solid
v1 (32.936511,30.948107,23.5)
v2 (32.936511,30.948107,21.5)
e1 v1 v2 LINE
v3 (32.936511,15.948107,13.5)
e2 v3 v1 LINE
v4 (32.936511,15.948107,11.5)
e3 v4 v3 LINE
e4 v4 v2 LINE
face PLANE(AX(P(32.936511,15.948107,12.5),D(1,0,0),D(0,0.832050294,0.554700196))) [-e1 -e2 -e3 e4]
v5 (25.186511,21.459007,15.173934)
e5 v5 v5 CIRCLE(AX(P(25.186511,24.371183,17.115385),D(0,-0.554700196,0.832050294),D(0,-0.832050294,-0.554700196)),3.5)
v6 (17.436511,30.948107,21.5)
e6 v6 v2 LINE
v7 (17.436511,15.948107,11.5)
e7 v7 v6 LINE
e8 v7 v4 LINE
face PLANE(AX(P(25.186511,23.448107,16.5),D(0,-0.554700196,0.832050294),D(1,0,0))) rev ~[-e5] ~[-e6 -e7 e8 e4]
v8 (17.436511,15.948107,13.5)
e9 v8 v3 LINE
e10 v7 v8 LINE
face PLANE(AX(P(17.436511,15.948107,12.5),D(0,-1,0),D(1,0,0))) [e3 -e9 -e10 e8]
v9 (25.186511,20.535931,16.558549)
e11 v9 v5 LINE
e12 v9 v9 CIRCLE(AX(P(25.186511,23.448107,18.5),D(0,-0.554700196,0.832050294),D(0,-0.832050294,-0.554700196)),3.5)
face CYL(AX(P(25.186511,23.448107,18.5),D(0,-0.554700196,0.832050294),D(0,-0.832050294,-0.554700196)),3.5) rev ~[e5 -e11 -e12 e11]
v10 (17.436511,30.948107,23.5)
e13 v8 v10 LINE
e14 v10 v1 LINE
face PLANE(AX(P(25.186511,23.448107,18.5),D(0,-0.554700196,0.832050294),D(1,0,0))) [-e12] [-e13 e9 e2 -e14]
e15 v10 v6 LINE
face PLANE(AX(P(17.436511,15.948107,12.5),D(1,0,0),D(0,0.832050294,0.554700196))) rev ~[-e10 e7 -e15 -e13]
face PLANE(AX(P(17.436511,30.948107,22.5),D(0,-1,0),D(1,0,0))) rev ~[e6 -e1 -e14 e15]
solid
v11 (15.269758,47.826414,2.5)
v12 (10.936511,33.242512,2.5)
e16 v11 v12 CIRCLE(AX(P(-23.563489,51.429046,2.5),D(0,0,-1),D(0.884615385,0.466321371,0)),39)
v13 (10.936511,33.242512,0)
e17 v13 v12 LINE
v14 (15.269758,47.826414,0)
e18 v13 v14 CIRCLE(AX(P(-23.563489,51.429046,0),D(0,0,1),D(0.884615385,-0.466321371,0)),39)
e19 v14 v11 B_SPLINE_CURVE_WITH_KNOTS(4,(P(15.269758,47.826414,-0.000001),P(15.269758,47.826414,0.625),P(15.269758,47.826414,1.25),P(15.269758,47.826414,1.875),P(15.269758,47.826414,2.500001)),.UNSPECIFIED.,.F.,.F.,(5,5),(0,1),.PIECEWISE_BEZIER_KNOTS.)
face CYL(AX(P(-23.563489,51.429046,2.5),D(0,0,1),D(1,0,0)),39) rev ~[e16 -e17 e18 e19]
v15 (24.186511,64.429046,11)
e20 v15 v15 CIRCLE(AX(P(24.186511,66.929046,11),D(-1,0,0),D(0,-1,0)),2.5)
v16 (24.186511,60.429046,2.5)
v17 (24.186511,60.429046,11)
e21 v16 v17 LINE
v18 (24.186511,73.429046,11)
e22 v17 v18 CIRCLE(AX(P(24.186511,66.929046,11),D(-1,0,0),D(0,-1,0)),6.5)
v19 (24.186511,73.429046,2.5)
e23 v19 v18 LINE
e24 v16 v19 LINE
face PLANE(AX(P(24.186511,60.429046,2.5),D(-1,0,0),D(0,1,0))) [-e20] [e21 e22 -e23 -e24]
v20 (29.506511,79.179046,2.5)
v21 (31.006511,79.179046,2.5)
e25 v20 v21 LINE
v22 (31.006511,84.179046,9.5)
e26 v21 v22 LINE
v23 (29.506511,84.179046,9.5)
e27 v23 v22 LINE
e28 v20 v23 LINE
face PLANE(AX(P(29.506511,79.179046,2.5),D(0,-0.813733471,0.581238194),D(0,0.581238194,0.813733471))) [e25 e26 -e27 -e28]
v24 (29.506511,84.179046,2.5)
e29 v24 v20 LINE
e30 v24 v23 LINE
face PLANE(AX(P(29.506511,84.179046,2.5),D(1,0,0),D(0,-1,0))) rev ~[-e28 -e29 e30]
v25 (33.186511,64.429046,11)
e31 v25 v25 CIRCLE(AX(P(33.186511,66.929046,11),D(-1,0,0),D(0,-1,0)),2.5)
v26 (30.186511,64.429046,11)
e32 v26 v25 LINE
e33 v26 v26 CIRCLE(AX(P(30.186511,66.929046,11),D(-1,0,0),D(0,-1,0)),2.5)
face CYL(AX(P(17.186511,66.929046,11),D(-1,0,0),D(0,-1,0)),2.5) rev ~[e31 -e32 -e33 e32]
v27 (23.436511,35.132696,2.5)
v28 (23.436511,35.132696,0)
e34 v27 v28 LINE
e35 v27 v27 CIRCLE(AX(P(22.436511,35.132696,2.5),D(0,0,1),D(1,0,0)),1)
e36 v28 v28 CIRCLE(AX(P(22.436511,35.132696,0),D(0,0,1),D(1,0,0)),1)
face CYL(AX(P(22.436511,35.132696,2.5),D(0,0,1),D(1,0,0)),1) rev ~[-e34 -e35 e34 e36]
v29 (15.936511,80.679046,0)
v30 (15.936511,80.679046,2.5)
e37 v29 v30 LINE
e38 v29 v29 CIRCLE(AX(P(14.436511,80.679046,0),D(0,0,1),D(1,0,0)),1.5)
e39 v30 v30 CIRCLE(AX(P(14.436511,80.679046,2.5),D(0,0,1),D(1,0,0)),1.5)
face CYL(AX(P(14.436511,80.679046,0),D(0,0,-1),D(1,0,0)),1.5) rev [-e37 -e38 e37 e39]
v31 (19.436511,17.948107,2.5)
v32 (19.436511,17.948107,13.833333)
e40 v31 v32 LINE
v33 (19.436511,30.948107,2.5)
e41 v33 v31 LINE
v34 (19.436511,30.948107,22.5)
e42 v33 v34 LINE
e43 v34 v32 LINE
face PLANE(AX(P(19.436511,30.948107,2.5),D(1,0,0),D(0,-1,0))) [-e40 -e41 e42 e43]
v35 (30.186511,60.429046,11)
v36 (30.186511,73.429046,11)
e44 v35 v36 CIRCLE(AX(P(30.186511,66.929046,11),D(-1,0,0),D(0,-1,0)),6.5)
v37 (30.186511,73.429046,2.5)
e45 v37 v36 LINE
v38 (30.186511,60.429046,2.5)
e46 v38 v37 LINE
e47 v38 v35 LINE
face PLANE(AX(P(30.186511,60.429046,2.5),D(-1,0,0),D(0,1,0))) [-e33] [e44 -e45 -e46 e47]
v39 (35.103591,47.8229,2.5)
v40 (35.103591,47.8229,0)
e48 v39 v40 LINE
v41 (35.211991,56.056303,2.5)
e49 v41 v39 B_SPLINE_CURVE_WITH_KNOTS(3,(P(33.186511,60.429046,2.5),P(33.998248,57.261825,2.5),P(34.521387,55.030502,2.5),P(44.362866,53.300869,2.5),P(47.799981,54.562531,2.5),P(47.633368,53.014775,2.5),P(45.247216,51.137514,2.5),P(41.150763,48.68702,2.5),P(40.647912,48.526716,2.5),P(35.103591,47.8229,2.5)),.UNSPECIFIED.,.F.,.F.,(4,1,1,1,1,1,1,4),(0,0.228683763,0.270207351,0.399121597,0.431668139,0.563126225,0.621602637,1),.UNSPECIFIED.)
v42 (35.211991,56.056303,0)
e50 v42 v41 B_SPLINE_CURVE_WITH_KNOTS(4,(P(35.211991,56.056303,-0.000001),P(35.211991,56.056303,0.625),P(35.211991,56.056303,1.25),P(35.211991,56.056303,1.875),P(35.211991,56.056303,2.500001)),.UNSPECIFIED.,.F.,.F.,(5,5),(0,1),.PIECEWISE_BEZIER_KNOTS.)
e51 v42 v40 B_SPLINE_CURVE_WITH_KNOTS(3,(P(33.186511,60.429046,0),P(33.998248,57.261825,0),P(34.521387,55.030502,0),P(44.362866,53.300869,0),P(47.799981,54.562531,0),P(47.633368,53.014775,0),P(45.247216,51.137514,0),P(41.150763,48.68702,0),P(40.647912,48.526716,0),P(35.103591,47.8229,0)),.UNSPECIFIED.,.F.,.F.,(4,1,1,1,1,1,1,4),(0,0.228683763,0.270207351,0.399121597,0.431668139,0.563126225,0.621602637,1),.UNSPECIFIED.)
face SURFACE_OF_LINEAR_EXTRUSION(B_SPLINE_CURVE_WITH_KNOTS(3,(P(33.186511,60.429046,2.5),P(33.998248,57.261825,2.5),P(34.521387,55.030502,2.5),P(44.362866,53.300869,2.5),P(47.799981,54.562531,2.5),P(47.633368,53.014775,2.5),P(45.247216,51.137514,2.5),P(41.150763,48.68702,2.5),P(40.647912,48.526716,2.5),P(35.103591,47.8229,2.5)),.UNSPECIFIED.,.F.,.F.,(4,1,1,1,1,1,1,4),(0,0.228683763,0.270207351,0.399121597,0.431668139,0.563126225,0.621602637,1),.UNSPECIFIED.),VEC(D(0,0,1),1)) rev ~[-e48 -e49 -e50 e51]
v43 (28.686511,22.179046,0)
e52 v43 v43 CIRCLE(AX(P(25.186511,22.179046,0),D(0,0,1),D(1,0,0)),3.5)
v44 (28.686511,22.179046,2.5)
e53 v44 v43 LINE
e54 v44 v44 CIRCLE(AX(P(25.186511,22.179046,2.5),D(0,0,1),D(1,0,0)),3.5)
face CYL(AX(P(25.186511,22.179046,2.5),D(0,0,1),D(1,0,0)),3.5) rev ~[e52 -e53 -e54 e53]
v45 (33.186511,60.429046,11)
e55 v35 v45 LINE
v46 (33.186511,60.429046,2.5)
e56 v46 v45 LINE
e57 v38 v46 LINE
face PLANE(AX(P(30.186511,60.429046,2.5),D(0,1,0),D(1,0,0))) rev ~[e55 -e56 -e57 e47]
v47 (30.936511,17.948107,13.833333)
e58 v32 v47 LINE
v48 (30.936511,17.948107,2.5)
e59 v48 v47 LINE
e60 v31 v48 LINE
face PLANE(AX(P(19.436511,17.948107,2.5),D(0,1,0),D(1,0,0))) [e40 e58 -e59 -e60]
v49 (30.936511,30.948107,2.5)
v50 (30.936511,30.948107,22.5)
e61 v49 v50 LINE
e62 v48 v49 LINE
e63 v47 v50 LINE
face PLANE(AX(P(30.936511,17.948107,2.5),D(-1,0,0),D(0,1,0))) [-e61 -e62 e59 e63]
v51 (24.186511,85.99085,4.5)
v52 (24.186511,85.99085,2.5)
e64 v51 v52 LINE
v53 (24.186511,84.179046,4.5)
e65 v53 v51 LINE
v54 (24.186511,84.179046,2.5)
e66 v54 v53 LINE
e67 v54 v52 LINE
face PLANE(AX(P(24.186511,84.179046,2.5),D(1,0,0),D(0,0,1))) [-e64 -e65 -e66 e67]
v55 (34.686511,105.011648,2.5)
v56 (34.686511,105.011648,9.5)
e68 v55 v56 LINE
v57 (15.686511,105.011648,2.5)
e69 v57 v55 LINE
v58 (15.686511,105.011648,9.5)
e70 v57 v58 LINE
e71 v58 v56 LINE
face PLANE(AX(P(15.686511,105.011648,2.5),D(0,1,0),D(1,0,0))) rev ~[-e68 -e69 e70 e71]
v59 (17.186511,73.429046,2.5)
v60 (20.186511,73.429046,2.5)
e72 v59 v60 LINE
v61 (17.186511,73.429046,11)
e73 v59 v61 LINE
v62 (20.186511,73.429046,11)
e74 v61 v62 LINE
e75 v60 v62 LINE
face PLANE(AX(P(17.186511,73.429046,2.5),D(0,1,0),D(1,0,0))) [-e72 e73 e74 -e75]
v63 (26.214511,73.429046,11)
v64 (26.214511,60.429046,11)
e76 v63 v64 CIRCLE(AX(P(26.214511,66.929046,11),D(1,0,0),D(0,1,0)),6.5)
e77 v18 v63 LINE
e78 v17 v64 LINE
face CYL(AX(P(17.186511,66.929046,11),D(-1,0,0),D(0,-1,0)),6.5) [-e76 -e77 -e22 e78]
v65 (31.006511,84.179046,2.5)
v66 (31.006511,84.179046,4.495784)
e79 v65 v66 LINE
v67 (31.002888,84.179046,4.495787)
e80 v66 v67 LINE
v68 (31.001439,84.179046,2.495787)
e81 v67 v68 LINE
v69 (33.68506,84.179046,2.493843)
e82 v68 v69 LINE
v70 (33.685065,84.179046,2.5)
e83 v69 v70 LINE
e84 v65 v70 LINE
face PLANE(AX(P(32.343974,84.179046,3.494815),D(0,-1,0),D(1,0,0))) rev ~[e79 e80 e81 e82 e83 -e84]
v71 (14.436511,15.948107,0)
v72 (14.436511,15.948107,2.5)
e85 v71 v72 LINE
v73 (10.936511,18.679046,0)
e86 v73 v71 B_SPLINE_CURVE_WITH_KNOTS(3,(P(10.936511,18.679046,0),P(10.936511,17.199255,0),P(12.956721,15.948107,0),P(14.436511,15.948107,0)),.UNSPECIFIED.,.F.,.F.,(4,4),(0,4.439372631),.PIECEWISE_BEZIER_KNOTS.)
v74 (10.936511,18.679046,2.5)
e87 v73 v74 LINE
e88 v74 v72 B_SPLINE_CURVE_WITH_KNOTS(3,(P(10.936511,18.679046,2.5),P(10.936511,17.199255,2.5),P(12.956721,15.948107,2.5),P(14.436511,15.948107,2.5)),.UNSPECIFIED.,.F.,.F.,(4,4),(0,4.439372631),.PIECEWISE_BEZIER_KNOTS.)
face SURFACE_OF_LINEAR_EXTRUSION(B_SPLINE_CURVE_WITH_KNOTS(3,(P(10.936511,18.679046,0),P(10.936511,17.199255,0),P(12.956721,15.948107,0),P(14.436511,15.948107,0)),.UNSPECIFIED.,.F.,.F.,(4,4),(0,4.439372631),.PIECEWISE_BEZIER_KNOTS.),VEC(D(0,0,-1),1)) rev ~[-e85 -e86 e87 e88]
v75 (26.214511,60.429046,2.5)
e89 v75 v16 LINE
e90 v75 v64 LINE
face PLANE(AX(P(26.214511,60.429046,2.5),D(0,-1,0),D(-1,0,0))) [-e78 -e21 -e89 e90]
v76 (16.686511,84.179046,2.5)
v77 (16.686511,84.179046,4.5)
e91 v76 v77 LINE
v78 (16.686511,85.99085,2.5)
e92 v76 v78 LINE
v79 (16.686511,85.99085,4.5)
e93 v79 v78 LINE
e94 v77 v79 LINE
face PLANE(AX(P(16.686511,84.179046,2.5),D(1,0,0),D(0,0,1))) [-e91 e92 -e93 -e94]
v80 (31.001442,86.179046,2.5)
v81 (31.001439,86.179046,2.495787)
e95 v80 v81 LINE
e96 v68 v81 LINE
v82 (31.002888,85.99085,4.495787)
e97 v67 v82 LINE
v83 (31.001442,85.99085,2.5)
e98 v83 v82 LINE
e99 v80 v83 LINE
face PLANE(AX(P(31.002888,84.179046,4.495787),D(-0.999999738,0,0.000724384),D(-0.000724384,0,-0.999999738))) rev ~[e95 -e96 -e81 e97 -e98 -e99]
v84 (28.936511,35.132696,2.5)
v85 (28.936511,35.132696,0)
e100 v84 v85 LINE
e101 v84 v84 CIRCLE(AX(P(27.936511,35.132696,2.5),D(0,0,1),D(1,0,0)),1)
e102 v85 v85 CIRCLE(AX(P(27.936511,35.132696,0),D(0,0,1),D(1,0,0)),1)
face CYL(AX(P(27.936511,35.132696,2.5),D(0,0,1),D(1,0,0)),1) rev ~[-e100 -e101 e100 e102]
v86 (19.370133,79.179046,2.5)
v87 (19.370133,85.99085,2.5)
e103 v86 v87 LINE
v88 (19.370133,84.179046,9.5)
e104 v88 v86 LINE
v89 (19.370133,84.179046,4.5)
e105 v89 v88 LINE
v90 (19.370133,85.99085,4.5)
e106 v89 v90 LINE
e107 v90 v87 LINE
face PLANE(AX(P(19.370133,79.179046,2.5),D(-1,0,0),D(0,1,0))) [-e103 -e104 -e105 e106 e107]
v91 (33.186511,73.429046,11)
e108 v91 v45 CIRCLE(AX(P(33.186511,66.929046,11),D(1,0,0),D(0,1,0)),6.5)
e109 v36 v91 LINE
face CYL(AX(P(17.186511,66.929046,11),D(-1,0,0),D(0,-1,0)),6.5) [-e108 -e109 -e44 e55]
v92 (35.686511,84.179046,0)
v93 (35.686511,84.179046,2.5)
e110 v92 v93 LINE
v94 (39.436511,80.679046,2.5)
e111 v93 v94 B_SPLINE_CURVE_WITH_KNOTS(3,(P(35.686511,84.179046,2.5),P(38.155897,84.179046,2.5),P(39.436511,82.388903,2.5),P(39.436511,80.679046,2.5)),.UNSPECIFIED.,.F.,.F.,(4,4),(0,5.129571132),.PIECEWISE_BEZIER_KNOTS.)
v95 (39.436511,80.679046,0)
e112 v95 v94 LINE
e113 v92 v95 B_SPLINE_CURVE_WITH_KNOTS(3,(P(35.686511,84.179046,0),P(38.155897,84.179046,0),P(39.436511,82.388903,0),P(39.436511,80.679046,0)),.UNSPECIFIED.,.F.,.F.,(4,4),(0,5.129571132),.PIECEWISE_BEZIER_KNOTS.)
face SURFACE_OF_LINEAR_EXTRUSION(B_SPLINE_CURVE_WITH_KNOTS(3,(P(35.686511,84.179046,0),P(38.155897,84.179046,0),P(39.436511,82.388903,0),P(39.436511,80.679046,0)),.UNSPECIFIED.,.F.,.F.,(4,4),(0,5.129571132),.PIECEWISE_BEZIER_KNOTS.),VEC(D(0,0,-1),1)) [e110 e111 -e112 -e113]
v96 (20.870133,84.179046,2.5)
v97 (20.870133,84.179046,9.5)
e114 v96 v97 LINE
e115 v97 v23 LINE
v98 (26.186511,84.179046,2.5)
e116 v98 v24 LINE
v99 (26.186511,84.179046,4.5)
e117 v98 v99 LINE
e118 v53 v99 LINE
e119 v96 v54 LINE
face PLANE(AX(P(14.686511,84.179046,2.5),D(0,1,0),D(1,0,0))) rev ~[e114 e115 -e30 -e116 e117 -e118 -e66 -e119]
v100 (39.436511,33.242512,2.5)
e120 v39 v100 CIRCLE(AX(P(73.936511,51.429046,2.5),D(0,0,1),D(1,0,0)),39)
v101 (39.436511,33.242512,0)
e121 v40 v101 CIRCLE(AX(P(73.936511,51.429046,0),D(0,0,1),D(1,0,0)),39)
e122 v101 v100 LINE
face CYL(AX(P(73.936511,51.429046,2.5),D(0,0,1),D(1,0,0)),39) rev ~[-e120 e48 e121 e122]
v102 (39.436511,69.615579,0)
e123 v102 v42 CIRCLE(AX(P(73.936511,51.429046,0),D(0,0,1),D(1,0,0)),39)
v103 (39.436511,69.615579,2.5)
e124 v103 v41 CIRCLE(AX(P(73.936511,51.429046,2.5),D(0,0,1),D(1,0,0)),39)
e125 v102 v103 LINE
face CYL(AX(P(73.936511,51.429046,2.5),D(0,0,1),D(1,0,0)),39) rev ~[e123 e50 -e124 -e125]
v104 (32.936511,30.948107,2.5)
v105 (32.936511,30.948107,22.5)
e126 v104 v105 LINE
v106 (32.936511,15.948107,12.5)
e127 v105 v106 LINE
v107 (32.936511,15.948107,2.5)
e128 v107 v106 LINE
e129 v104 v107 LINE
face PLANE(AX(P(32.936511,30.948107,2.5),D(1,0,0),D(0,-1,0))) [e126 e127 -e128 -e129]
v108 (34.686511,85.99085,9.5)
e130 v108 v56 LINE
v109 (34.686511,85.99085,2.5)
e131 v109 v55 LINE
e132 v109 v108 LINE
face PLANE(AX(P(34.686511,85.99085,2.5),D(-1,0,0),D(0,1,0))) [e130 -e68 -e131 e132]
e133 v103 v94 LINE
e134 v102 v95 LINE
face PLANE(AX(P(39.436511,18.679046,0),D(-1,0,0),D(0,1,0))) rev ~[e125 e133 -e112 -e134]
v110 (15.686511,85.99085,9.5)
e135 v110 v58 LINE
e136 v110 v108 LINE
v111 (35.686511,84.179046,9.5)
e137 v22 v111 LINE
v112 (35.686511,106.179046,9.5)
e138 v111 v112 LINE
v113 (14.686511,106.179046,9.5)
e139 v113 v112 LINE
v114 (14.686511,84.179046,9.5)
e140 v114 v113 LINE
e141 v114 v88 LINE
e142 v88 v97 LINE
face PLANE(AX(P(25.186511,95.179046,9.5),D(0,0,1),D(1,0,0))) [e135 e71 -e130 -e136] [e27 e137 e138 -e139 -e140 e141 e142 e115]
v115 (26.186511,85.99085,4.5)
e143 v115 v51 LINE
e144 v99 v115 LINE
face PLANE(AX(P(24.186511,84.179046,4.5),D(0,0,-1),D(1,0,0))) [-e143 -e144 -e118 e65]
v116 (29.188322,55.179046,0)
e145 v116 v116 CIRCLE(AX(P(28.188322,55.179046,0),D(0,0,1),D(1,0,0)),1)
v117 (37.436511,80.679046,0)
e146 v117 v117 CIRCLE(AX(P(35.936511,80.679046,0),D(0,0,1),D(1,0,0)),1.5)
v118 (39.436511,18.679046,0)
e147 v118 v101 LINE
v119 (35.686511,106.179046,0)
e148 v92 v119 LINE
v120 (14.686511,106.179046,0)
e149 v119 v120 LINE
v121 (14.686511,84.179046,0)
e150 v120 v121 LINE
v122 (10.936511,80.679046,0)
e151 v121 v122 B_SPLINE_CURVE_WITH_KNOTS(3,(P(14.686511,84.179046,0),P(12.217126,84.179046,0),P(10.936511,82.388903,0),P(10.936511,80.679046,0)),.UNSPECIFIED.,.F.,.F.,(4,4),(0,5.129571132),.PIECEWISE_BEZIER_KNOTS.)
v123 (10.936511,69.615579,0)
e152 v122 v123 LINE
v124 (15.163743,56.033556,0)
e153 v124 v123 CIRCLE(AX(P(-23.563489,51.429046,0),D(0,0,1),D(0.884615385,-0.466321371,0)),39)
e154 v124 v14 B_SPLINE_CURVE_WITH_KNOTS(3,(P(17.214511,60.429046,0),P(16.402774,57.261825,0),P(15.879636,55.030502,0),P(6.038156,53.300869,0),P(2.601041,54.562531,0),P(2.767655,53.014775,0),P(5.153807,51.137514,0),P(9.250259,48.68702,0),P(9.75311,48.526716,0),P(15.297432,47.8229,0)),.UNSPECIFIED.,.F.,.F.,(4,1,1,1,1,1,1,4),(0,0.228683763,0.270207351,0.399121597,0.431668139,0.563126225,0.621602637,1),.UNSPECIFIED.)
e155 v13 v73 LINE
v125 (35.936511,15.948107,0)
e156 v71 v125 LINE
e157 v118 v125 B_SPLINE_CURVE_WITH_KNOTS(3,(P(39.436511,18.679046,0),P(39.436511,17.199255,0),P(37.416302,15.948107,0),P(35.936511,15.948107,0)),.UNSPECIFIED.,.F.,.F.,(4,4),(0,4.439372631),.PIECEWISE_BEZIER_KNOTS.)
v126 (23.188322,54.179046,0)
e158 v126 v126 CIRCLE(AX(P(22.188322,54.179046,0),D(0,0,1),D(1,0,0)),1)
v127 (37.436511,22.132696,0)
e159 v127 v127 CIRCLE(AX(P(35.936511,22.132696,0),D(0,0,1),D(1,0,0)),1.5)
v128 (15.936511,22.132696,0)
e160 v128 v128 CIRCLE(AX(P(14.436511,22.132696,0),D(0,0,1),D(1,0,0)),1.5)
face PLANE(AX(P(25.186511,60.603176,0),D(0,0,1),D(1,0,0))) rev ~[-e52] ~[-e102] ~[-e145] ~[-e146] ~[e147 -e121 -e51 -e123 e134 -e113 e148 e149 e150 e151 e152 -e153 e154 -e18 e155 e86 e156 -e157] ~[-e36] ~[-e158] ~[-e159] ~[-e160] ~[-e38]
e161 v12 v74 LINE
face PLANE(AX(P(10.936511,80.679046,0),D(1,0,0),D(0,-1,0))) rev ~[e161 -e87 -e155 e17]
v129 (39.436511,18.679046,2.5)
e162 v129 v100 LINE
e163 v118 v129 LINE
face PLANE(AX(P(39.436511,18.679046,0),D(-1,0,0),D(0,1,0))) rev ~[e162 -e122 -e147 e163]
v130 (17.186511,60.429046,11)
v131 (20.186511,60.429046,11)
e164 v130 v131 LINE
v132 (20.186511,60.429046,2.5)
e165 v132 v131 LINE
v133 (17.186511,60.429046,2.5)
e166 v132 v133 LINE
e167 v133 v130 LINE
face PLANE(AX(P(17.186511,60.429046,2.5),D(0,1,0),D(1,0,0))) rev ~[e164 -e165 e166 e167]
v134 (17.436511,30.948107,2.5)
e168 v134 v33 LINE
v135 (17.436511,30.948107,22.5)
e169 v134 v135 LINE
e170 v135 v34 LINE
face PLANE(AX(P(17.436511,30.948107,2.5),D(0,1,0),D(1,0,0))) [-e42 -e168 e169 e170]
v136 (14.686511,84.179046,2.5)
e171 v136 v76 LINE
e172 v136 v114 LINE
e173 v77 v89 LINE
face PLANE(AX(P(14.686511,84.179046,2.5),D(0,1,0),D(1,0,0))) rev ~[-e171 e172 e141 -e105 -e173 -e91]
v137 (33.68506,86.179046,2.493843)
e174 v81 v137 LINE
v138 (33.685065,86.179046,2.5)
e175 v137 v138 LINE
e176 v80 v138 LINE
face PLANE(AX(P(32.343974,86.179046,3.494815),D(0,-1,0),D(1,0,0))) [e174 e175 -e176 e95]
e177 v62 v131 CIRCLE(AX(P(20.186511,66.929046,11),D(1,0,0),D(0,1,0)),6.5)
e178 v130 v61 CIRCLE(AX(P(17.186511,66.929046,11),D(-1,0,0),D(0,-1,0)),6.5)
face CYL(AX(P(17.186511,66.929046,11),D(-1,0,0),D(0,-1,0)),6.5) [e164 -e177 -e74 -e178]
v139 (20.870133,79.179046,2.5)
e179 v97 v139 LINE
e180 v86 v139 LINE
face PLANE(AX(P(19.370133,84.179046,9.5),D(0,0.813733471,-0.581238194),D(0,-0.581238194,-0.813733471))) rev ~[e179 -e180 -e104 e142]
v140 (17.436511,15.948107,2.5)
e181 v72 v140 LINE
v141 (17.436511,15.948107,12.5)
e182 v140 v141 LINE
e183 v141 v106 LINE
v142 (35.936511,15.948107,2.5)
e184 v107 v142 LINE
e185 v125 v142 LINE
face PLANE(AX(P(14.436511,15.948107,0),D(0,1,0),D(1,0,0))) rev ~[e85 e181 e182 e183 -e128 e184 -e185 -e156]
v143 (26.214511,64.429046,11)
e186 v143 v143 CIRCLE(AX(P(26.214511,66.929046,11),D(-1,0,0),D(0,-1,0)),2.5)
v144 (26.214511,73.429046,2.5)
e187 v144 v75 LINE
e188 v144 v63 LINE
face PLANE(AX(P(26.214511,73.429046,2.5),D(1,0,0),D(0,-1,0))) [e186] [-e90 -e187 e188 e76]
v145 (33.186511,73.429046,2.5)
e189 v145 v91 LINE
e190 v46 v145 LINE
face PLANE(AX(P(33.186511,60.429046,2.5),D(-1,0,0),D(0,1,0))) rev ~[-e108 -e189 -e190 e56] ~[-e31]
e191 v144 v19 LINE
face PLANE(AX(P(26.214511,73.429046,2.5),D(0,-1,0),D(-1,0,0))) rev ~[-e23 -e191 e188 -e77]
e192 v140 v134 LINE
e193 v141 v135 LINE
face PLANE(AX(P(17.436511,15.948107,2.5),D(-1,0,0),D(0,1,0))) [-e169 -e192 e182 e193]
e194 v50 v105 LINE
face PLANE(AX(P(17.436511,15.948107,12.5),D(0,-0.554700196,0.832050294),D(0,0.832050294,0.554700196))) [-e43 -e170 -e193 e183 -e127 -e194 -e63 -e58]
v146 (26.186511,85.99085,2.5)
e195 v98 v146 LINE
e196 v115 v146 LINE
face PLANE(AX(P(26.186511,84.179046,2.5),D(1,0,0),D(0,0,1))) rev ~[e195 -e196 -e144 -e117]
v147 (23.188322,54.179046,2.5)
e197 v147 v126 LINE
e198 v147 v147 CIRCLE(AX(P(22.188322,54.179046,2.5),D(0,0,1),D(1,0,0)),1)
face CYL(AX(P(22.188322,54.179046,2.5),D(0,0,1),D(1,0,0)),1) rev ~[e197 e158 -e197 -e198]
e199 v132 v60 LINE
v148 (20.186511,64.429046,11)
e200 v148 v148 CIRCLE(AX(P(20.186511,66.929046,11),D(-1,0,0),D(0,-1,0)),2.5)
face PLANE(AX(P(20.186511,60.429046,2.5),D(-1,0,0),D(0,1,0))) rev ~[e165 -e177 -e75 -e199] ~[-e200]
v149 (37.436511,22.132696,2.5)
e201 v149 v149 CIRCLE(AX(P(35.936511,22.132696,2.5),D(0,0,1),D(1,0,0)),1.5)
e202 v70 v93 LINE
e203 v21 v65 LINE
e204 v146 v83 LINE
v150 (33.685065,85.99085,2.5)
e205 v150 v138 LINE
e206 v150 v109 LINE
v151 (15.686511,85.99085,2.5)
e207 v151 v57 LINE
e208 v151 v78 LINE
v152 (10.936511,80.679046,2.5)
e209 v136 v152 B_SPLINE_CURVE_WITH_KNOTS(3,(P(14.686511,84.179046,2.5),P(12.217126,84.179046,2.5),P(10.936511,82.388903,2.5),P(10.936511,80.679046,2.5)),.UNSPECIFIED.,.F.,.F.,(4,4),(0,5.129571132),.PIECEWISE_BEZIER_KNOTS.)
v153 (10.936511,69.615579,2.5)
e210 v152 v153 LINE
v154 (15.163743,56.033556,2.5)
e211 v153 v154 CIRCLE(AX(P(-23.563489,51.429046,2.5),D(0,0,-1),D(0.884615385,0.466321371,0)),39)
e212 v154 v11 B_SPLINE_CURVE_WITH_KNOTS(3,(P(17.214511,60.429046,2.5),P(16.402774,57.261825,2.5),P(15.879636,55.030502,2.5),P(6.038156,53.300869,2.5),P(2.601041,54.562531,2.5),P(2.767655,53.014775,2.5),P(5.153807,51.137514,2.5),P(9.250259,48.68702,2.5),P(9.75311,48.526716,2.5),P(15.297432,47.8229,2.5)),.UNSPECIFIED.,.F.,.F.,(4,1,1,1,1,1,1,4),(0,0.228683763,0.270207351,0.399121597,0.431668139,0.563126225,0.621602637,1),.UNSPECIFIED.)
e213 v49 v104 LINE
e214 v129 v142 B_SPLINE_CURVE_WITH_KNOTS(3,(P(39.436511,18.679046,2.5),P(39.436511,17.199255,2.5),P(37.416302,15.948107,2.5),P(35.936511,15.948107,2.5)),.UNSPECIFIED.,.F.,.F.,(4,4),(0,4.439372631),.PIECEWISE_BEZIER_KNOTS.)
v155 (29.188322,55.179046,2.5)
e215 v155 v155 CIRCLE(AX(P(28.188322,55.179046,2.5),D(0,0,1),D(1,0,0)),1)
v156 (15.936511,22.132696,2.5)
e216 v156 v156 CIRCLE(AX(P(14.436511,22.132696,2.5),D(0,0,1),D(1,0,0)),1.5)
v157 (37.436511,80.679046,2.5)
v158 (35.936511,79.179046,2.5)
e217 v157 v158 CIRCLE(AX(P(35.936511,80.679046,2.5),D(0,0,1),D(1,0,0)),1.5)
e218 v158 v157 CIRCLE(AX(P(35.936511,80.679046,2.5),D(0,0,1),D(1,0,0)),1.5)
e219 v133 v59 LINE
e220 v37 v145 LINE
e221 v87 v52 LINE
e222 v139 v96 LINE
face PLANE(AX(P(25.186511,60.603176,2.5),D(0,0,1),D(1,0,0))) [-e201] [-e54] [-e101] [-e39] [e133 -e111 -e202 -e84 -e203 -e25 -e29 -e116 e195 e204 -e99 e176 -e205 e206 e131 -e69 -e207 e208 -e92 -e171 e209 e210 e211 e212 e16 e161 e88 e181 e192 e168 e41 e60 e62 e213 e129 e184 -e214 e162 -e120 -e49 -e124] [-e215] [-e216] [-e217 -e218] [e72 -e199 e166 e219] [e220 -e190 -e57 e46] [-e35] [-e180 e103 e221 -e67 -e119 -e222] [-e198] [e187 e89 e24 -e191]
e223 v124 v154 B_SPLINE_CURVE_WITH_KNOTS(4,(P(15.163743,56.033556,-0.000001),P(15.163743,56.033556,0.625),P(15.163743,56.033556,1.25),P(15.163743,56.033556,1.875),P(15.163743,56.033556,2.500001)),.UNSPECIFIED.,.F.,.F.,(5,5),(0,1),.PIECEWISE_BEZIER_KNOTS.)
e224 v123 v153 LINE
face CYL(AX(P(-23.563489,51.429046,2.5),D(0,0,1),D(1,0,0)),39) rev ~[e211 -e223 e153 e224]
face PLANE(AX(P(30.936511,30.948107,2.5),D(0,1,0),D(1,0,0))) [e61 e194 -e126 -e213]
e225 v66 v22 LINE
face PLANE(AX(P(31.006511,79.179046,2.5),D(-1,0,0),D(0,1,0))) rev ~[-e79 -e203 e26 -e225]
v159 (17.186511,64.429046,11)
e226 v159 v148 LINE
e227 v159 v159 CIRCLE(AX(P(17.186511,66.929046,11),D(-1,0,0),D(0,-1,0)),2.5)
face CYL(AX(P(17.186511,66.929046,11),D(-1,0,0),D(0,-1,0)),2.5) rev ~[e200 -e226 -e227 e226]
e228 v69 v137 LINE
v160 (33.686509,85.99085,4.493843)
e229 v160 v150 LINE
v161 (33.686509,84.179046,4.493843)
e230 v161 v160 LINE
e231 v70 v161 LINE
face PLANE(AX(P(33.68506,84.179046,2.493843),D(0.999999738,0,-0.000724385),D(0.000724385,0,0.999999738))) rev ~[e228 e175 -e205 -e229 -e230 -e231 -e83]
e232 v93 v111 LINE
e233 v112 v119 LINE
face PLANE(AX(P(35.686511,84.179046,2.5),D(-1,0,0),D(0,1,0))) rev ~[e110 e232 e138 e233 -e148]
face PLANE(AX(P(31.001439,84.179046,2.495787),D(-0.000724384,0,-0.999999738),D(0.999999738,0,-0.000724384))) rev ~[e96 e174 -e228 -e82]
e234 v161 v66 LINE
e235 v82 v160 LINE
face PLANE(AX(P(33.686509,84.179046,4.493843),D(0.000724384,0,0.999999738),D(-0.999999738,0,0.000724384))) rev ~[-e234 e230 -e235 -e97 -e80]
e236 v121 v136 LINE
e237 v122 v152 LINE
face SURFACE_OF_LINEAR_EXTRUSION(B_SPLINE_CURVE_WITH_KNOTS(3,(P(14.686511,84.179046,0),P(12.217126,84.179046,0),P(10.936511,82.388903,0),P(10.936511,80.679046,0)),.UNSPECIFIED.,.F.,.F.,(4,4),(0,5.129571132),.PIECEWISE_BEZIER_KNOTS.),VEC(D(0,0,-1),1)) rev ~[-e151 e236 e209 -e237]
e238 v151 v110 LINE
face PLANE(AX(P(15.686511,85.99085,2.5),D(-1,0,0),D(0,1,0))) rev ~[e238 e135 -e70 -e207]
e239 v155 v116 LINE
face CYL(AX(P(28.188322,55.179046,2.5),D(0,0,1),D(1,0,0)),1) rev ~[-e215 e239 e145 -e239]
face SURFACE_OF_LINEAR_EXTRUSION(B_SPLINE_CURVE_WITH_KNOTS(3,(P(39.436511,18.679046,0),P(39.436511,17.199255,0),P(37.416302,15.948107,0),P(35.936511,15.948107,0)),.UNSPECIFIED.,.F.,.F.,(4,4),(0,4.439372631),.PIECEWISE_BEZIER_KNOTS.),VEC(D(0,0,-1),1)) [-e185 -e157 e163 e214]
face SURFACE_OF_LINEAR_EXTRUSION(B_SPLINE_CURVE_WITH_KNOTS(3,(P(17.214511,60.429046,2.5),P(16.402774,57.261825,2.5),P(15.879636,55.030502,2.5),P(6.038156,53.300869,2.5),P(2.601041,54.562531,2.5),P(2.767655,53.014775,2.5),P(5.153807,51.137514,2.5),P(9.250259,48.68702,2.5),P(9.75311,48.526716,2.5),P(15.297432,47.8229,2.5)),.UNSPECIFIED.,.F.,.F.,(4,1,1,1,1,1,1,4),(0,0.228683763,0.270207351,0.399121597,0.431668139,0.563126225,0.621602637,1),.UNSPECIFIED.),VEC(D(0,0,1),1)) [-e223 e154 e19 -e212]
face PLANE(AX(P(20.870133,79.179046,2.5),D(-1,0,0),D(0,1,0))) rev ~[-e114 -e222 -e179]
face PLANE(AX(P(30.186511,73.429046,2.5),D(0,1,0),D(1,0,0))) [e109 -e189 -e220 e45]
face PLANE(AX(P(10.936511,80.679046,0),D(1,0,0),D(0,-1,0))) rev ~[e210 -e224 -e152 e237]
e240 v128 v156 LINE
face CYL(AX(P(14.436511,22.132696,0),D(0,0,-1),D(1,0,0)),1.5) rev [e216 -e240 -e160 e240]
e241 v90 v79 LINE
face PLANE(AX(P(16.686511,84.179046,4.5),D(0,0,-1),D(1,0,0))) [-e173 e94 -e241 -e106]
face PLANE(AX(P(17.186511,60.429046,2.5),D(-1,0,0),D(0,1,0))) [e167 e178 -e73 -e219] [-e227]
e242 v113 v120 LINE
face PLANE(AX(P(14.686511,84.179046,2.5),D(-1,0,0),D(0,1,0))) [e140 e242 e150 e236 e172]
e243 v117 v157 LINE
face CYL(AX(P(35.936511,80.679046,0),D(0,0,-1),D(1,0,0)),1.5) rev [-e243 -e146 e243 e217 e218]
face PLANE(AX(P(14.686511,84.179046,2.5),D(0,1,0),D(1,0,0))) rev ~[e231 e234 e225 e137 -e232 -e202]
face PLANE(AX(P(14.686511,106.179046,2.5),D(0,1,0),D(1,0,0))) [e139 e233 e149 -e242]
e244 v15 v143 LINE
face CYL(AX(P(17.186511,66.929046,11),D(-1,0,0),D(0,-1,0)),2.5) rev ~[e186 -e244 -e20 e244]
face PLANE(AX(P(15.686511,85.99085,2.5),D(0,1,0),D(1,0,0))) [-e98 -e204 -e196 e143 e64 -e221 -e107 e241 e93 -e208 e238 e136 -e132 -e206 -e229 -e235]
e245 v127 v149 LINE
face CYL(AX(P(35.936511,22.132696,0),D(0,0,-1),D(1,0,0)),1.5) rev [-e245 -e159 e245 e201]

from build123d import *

# Parameters (mm, degrees)
MODEL_R              = 1.5
EXTRUDE_1_DEPTH      = 2.5
SKETCH_2_W           = 21
SKETCH_2_H           = 22
SKETCH_2_W_2         = 19
SKETCH_2_H_2         = 19.020798255
EXTRUDE_2_DEPTH      = 7
SKETCH_3_W           = 1.5
SKETCH_3_H           = 5
EXTRUDE_3_DEPTH      = 7
CUT_EXTRUDE_2_DEPTH  = 7
EXTRUDE_6_DEPTH      = 7
CUT_EXTRUDE_4_DEPTH  = 7
SKETCH_13_W          = 2
SKETCH_13_H          = 2
CUT_EXTRUDE_5_DEPTH  = 7
EXTRUDE_7_DEPTH      = 20
CUT_EXTRUDE_6_DEPTH  = 20
SKETCH_20_W          = 15.5
SKETCH_20_H          = 18.027756377
EXTRUDE_9_DEPTH      = 1
SKETCH_21_R          = 3.5
CUT_EXTRUDE_7_DEPTH  = 2
SKETCH_23_R          = 3.5
CUT_EXTRUDE_8_DEPTH  = 4
SKETCH_25_W          = 3
SKETCH_25_H          = 13
EXTRUDE_10_DEPTH     = 15
SKETCH_26_R          = 2.5
CUT_EXTRUDE_9_DEPTH  = 18
CUT_EXTRUDE_10_DEPTH = 16
SKETCH_28_W          = 2.683621922
SKETCH_28_H          = 2
CUT_EXTRUDE_12_DEPTH = 2
SKETCH_30_R          = 1
CUT_EXTRUDE_13_DEPTH = 10
SKETCH_31_R          = 39
CUT_EXTRUDE_14_DEPTH = 10
SKETCH_33_R          = 1
CUT_EXTRUDE_15_DEPTH = 2.5
EXTRUDE_13_DEPTH     = 2.5


with BuildPart() as part:
    # Model → 凸台-拉伸1 (new body)
    with BuildSketch(Plane.XY):
        with BuildLine():
            Line((35.686511473, 106.179045823), (14.686511473, 106.179045823))
            Line((14.686511473, 106.179045823), (14.686511473, 84.179045823))
            add(Edge.make_bspline(
                [(14.686511473, 84.179045823), (12.217125861, 84.179045823), (10.936511473, 82.388902867), (10.936511473, 80.679045823)],
                knots=[0, 0, 0, 0, 5.129571132, 5.129571132, 5.129571132, 5.129571132], degree=3))
            Line((10.936511473, 80.679045823), (10.936511473, 18.679045823))
            add(Edge.make_bspline(
                [(10.936511473, 18.679045823), (10.936511473, 17.199254946), (12.956720596, 15.948106541), (14.436511473, 15.948106541)],
                knots=[0, 0, 0, 0, 4.439372631, 4.439372631, 4.439372631, 4.439372631], degree=3))
            Line((14.436511473, 15.948106541), (35.936511473, 15.948106541))
            add(Edge.make_bspline(
                [(39.436511473, 18.679045823), (39.436511473, 17.199254946), (37.41630235, 15.948106541), (35.936511473, 15.948106541)],
                knots=[0, 0, 0, 0, 4.439372631, 4.439372631, 4.439372631, 4.439372631], degree=3))
            Line((39.436511473, 18.679045823), (39.436511473, 80.679045823))
            add(Edge.make_bspline(
                [(35.686511473, 84.179045823), (38.155897084, 84.179045823), (39.436511473, 82.388902867), (39.436511473, 80.679045823)],
                knots=[0, 0, 0, 0, 5.129571132, 5.129571132, 5.129571132, 5.129571132], degree=3))
            Line((35.686511473, 84.179045823), (35.686511473, 106.179045823))
        make_face()
        with Locations((14.436511473, 22.132696196)):
            Circle(MODEL_R, mode=Mode.SUBTRACT)
        with Locations((35.936511473, 22.132696196)):
            Circle(MODEL_R, mode=Mode.SUBTRACT)
        with Locations((14.436511473, 80.679045823)):
            Circle(MODEL_R, mode=Mode.SUBTRACT)
        with Locations((35.936511473, 80.679045823)):
            Circle(MODEL_R, mode=Mode.SUBTRACT)
    extrude(amount=EXTRUDE_1_DEPTH)

    # 草图2 → 凸台-拉伸2 (add)
    with BuildSketch(Plane.XY.offset(2.5)):
        with Locations((25.186511473, 95.179045823)):
            Rectangle(SKETCH_2_W, SKETCH_2_H)
        with Locations((25.18651147, 95.501249058)):
            Rectangle(SKETCH_2_W_2, SKETCH_2_H_2, mode=Mode.SUBTRACT)
    extrude(amount=EXTRUDE_2_DEPTH)

    # 草图3 → 凸台-拉伸3 (add)
    with BuildSketch(Plane.XY.offset(2.5)):
        with Locations((20.120133395, 81.679045823)):
            Rectangle(SKETCH_3_W, SKETCH_3_H)
    extrude(amount=EXTRUDE_3_DEPTH)

    # 草图4 → 切除-拉伸2 (cut)
    with BuildSketch(Plane.ZY.offset(-19.370133395)):
        Polygon((9.5, 84.179045823), (2.5, 79.179045823), (9.5, 79.179045823), align=None)
    extrude(amount=-CUT_EXTRUDE_2_DEPTH, mode=Mode.SUBTRACT)

    # Sketch 3D_1 → 凸台-拉伸6 (add)
    with BuildSketch(Plane(origin=(31.006511473, 84.179045823, 2.5), x_dir=(-0.28734788556634544, -0.9578262852211514, 0), z_dir=(0, 0, -1))):
        Polygon((0, 0), (0.431021828, 1.436739428), (5.220153254, 0), (4.789131426, -1.436739428), align=None)
    extrude(amount=-EXTRUDE_6_DEPTH)

    # 草图12 → 切除-拉伸4 (cut)
    with BuildSketch(Plane.ZY.offset(-29.506511473)):
        Polygon((9.5, 84.179045823), (9.5, 79.179045823), (2.5, 79.179045823), align=None)
    extrude(amount=-CUT_EXTRUDE_4_DEPTH, mode=Mode.SUBTRACT)

    # 草图13 → 切除-拉伸5 (cut)
    with BuildSketch(Plane.XZ.offset(-84.179045823)):
        with Locations((25.186511473, 3.5)):
            Rectangle(SKETCH_13_W, SKETCH_13_H)
    extrude(amount=-CUT_EXTRUDE_5_DEPTH, mode=Mode.SUBTRACT)

    # 草图14 → 凸台-拉伸7 (add)
    with BuildSketch(Plane.XY.offset(2.5)):
        Polygon((19.436511473, 30.948106541), (19.436511473, 17.948106541), (30.936511473, 17.948106541), (30.936511473, 30.948106541), (32.936511473, 30.948106541), (32.936511473, 15.948106541), (17.436511473, 15.948106541), (17.436511473, 30.948106541), align=None)
    extrude(amount=EXTRUDE_7_DEPTH)

    # 草图15 → 切除-拉伸6 (cut)
    with BuildSketch(Plane.ZY.offset(-17.436511473)):
        Polygon((22.5, 30.948106541), (22.5, 15.948106541), (12.5, 15.948106541), align=None)
    extrude(amount=-CUT_EXTRUDE_6_DEPTH, mode=Mode.SUBTRACT)

    # 草图23 → 切除-拉伸8 (cut)
    with BuildSketch(Plane.XY.offset(2.5)):
        with Locations((25.186511473, 22.179045823)):
            Circle(SKETCH_23_R)
    extrude(amount=-CUT_EXTRUDE_8_DEPTH, mode=Mode.SUBTRACT)

    # 草图25 → 凸台-拉伸10 (add)
    with BuildSketch(Plane.XY.offset(2.5)):
        Polygon((25.186511473, 73.429045823), (26.214511031, 73.429045823), (26.214511031, 60.429045823), (24.186511473, 60.429045823), (24.186511473, 73.429045823), align=None)
        with Locations((31.686511473, 66.929045823)):
            Rectangle(SKETCH_25_W, SKETCH_25_H)
        with Locations((18.686511473, 66.929045823)):
            Rectangle(SKETCH_25_W, SKETCH_25_H)
    extrude(amount=EXTRUDE_10_DEPTH)

    # 草图26 → 切除-拉伸9 (cut)
    with BuildSketch(Plane.ZY.offset(-17.186511473)):
        with Locations(Location((11, 66.929045823, 0), (0, 0, 270))):
            Circle(SKETCH_26_R)
    extrude(amount=-CUT_EXTRUDE_9_DEPTH, mode=Mode.SUBTRACT)

    # 草图27 → 切除-拉伸10 (cut)
    with BuildSketch(Plane.ZY.offset(-17.186511473)):
        with BuildLine():
            Line((11, 73.429045823), (11, 75.536501325))
            Line((11, 75.536501325), (21.747083052, 75.536501325))
            Line((21.747083052, 75.536501325), (21.747083052, 59.045875477))
            Line((21.747083052, 59.045875477), (11, 59.431370627))
            Line((11, 59.431370627), (11, 60.429045823))
            ThreePointArc((11, 60.429045823), (17.5, 66.929045823), (11, 73.429045823))
        make_face()
    extrude(amount=-CUT_EXTRUDE_10_DEPTH, mode=Mode.SUBTRACT)

    # 草图28 → 切除-拉伸12 (cut)
    with BuildSketch(Plane.XZ.offset(-84.179045823)):
        with Locations((18.028322434, 3.5)):
            Rectangle(SKETCH_28_W, SKETCH_28_H)
        Polygon((31.001439257, 2.495787232), (33.685060474, 2.493843259), (33.686509243, 4.493842734), (31.002888025, 4.495786707), align=None)
    extrude(amount=-CUT_EXTRUDE_12_DEPTH, mode=Mode.SUBTRACT)

    # 草图30 → 切除-拉伸13 (cut)
    with BuildSketch(Plane.XY.offset(2.5)):
        with Locations((28.188322434, 55.179045823)):
            Circle(SKETCH_30_R)
        with Locations((22.188322434, 54.179045823)):
            Circle(SKETCH_30_R)
    extrude(amount=-CUT_EXTRUDE_13_DEPTH, mode=Mode.SUBTRACT)

    # 草图31 → 切除-拉伸14 (cut)
    with BuildSketch(Plane.XY.offset(2.5)):
        with Locations((-23.563488527, 51.429045823)):
            Circle(SKETCH_31_R)
        with Locations((73.936511473, 51.429045823)):
            Circle(SKETCH_31_R)
    extrude(amount=-CUT_EXTRUDE_14_DEPTH, mode=Mode.SUBTRACT)

    # 草图33 → 切除-拉伸15 (cut)
    with BuildSketch(Plane.XY.offset(2.5)):
        with Locations((22.436511473, 35.132696196)):
            Circle(SKETCH_33_R)
        with Locations((27.936511473, 35.132696196)):
            Circle(SKETCH_33_R)
    extrude(amount=-CUT_EXTRUDE_15_DEPTH, mode=Mode.SUBTRACT)

    # 草图32 → 凸台-拉伸13 (add)
    with BuildSketch(Plane.XY.offset(2.5)):
        with BuildLine():
            Line((17.214511031, 60.429045823), (15.297431543, 47.822900451))
            add(Edge.make_bspline(
                [(17.214511031, 60.429045823), (16.402774166, 57.261824787), (15.879635601, 55.030502336), (6.038156358, 53.300869438), (2.601041084, 54.562530921), (2.767654696, 53.014775012), (5.153806778, 51.137514182), (9.250259364, 48.687019635), (9.753110129, 48.526716356), (15.297431543, 47.822900451)],
                knots=[0, 0, 0, 0, 0.228683763, 0.270207351, 0.399121597, 0.431668139, 0.563126225, 0.621602637, 1, 1, 1, 1], degree=3))
        make_face()
        with BuildLine():
            Line((33.186511473, 60.429045823), (35.10359096, 47.822900451))
            add(Edge.make_bspline(
                [(33.186511473, 60.429045823), (33.998248337, 57.261824787), (34.521386902, 55.030502336), (44.362866145, 53.300869438), (47.79998142, 54.562530921), (47.633367808, 53.014775012), (45.247215725, 51.137514182), (41.150763139, 48.687019635), (40.647912374, 48.526716356), (35.10359096, 47.822900451)],
                knots=[0, 0, 0, 0, 0.228683763, 0.270207351, 0.399121597, 0.431668139, 0.563126225, 0.621602637, 1, 1, 1, 1], degree=3))
        make_face()
    extrude(amount=-EXTRUDE_13_DEPTH)


with BuildPart() as body_2:
    # 草图20 → 凸台-拉伸9 (new, symmetric, along a direction that is not the sketch's normal)
    with BuildSketch(Plane(origin=(0, -0.862121064, 1.293181596), x_dir=(1, 0, 0), z_dir=(0, -0.5547001962252294, 0.8320502943378436))):
        with Locations((25.186511473, 29.217257383)):
            Rectangle(SKETCH_20_W, SKETCH_20_H)
    extrude(amount=EXTRUDE_9_DEPTH, dir=(0, 0, 1), both=True)

    # 草图21 → 切除-拉伸7 (cut)
    with BuildSketch(Plane(origin=(0, -1.323659526, 1.985489289), x_dir=(1, 0, 0), z_dir=(0, -0.5547001962252295, 0.8320502943378434))):
        with Locations(Location((25.186511473, 29.771957579, 0), (0, 0, 270))):
            Circle(SKETCH_21_R)
    extrude(amount=-CUT_EXTRUDE_7_DEPTH, mode=Mode.SUBTRACT)


solid = Compound([part.part, body_2.part])
